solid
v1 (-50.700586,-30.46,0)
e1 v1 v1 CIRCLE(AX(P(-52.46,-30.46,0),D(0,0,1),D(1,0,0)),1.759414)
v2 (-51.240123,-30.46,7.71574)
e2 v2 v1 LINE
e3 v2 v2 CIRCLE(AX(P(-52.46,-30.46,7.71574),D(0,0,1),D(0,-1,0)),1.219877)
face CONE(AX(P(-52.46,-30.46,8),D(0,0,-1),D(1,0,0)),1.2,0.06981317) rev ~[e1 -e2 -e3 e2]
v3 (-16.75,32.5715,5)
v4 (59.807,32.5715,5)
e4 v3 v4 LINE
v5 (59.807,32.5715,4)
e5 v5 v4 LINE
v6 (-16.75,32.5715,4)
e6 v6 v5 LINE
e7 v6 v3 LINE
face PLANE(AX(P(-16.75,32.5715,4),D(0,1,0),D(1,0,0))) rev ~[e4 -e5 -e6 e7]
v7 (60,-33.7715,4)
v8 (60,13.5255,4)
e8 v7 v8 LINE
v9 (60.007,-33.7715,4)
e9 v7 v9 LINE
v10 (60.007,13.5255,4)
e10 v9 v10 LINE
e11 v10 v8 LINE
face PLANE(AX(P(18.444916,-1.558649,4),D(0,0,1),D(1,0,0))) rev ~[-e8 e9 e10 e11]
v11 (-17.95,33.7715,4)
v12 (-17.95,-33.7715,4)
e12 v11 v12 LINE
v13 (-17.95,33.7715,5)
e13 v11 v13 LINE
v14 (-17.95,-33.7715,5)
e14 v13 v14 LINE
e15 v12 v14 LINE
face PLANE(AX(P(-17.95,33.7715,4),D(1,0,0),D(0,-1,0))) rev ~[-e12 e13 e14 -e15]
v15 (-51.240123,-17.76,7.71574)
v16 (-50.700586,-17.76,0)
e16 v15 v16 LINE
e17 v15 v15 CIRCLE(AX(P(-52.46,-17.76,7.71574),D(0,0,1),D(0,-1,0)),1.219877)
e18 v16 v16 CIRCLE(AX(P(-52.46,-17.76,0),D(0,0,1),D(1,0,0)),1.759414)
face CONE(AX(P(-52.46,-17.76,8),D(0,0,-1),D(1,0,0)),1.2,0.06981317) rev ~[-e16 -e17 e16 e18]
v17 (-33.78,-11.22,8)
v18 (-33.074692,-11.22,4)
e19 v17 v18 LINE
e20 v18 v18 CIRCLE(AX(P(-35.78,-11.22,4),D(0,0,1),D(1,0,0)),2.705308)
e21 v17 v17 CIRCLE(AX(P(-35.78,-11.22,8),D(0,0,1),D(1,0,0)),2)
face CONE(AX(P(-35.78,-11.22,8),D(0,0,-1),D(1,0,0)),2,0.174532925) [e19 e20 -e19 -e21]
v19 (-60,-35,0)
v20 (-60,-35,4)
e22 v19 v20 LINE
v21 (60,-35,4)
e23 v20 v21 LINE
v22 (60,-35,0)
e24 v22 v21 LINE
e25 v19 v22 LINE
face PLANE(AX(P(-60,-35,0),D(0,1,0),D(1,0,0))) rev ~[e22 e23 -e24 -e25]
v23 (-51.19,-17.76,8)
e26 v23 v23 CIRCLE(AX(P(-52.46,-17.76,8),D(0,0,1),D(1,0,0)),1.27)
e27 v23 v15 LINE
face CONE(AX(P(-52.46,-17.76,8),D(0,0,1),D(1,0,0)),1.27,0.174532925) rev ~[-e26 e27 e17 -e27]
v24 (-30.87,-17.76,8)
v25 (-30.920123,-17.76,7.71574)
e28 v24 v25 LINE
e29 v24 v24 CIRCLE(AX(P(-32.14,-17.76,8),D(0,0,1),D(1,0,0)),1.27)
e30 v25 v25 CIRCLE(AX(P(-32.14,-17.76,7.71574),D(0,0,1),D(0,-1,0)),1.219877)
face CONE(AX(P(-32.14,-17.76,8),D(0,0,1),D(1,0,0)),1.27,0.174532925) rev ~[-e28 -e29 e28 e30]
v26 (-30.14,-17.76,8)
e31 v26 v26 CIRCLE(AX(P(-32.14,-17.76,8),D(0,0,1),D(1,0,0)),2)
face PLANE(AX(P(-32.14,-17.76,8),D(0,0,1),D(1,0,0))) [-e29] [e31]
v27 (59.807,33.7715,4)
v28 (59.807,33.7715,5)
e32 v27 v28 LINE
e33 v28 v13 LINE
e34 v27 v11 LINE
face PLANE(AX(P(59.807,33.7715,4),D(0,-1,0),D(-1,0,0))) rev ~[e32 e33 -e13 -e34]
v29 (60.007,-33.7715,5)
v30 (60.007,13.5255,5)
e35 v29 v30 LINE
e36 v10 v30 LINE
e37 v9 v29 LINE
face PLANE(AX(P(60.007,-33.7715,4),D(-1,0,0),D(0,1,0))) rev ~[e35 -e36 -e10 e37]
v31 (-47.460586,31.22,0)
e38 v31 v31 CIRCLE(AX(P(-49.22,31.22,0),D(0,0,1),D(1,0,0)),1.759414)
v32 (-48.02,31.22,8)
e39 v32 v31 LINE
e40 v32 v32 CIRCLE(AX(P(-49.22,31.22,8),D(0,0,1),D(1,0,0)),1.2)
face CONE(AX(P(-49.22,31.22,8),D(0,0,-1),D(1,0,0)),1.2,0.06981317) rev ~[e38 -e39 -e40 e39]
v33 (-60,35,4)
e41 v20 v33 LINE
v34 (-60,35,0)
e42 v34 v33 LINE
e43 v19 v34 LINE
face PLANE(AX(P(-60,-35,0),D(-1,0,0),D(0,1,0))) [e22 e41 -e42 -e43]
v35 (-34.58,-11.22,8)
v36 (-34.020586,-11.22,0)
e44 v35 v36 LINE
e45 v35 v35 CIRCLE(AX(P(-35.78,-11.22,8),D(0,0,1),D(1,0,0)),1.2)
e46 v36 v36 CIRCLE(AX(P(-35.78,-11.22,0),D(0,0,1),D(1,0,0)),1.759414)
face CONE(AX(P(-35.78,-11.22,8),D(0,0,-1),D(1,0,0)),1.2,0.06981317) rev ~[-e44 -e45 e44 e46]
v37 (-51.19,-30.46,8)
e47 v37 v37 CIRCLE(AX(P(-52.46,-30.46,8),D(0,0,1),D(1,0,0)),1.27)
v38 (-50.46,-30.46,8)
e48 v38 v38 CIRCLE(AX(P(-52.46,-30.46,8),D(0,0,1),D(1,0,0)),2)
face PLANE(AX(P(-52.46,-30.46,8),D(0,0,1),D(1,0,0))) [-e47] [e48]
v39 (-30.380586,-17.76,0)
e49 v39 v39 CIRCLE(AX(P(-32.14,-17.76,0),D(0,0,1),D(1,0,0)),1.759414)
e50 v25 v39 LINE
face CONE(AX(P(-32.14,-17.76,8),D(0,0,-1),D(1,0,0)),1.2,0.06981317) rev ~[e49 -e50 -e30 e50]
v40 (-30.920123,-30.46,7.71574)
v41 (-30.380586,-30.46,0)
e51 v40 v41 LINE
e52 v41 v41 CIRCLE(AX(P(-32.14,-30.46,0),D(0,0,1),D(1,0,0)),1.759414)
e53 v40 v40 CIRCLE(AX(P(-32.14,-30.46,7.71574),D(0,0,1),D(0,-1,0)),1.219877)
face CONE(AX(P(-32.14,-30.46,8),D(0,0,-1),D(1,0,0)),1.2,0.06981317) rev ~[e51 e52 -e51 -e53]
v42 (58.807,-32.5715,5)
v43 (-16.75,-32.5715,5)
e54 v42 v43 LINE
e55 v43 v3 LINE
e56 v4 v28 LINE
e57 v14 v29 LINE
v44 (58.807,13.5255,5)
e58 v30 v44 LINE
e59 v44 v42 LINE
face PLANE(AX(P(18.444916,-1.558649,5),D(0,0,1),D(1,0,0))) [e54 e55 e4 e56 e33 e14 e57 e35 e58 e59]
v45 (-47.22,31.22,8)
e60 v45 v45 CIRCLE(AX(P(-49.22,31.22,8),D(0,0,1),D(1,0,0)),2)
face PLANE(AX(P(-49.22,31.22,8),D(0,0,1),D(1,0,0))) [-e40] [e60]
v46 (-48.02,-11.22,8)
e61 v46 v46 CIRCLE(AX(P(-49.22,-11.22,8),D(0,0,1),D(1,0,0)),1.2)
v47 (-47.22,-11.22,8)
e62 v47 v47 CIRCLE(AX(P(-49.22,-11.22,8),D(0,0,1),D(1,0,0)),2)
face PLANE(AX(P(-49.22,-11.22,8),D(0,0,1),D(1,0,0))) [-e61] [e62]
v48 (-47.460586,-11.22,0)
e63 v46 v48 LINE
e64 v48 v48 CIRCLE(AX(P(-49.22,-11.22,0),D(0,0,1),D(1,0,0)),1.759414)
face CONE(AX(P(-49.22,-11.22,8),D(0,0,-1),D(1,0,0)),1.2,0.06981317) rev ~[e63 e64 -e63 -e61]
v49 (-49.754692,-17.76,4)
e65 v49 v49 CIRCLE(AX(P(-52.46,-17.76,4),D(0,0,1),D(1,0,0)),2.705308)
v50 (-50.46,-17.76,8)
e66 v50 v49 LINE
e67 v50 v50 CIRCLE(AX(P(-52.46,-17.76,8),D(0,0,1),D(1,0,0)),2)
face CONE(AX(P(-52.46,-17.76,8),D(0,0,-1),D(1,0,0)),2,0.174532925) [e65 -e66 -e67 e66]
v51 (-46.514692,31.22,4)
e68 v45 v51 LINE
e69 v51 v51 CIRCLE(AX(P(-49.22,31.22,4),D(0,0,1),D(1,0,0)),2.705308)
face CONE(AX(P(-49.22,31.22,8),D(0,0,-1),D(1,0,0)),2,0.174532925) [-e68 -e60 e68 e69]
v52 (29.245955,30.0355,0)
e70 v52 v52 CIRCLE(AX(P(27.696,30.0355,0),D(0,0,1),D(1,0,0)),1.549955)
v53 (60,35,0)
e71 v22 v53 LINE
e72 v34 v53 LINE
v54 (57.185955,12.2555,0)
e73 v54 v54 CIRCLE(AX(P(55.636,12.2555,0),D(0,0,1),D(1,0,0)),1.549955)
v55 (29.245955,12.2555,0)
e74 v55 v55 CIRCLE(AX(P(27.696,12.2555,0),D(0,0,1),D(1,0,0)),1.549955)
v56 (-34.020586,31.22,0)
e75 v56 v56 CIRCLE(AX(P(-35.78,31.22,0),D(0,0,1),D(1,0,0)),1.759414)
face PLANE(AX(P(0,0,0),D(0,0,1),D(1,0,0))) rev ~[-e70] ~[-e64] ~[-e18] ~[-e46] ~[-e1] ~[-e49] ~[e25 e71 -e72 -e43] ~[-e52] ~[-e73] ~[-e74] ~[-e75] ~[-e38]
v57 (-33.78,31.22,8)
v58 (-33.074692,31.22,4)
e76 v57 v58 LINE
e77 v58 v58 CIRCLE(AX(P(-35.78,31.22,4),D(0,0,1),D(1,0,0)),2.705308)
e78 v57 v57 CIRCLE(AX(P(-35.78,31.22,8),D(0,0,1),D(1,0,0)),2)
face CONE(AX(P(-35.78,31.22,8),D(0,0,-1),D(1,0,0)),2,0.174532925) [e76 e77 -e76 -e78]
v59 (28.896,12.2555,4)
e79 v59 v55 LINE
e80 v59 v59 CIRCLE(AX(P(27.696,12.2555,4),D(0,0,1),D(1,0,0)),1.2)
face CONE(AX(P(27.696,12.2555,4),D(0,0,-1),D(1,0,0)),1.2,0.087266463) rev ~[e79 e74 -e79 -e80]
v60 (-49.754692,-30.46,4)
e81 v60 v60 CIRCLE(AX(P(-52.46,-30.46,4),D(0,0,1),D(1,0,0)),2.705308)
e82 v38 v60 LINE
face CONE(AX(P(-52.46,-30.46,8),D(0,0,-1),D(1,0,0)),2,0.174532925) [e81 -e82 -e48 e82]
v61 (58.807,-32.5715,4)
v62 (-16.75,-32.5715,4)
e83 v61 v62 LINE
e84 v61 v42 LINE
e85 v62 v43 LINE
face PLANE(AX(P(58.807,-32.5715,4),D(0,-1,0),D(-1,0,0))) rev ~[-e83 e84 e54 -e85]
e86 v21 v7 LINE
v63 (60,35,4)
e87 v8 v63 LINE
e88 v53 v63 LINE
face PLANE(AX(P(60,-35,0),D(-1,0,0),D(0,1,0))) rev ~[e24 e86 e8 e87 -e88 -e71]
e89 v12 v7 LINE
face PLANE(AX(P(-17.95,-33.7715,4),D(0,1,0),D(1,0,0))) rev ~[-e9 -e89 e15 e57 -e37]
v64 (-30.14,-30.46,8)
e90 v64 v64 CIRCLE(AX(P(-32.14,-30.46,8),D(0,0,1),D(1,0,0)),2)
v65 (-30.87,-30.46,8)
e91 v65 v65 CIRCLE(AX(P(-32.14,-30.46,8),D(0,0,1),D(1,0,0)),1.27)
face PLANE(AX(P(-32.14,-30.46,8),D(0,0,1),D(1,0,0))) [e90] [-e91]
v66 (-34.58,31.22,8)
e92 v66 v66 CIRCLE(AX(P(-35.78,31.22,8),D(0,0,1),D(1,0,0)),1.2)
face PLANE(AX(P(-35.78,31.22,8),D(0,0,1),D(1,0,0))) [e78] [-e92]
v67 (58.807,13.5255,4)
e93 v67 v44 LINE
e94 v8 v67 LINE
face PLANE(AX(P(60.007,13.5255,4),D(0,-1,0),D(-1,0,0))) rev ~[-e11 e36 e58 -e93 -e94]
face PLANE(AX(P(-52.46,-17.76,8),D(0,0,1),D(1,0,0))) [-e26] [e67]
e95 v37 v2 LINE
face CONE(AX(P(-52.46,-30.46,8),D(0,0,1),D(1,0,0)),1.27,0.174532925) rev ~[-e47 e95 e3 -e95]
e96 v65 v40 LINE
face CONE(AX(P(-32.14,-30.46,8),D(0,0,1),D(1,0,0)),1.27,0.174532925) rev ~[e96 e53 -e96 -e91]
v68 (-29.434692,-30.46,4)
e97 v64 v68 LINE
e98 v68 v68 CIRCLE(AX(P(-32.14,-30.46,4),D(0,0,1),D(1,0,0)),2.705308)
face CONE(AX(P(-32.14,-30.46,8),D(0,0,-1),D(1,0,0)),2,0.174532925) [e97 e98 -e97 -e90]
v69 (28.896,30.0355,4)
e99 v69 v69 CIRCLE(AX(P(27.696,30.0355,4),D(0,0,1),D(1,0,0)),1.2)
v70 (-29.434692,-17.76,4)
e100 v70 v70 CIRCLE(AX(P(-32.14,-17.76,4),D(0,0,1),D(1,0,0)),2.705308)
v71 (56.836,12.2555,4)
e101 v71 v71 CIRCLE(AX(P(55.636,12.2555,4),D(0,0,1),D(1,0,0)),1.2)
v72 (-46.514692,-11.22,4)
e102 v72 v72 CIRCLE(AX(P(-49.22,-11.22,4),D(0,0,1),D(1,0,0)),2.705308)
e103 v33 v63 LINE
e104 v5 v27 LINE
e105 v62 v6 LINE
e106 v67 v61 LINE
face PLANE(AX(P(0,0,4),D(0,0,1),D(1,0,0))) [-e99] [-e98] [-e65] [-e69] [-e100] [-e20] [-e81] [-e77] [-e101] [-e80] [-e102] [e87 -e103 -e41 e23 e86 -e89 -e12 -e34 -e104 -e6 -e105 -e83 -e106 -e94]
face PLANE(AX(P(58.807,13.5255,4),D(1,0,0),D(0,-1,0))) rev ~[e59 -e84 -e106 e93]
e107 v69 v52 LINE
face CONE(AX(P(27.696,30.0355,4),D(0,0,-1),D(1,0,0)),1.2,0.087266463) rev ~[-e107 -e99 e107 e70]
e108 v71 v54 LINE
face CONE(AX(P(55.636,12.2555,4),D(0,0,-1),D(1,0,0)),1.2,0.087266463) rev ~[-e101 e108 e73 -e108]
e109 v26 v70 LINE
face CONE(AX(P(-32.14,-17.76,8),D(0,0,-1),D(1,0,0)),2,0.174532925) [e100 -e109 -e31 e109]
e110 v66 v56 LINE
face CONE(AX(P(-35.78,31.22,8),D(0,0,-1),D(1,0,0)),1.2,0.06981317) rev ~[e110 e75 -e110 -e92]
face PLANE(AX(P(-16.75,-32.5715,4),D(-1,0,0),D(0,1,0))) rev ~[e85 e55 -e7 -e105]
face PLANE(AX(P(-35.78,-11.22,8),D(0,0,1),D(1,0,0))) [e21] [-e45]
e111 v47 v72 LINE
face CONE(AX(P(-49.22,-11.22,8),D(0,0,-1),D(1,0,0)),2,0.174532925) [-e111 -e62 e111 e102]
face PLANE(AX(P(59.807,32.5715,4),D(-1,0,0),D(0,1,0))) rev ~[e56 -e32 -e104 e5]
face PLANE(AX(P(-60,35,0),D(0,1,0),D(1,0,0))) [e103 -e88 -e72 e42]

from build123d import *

# Parameters (mm, degrees)
SKETCH1_W                     = 120
SKETCH1_H                     = 70
BOSS_EXTRUDE1_DEPTH           = 4
BOSS_EXTRUDE3_DEPTH           = 1
BOSS_EXTRUDE4_START           = 4
SKETCH4_R                     = 2
SKETCH4_R_2                   = 1.27
BOSS_EXTRUDE4_DEPTH           = 5
BOSS_EXTRUDE4_DRAFT           = 10
BOSS_EXTRUDE4_PROFILE_2_DEPTH = 5
BOSS_EXTRUDE4_PROFILE_2_DRAFT = 10
BOSS_EXTRUDE4_PROFILE_3_DEPTH = 5
BOSS_EXTRUDE4_PROFILE_3_DRAFT = 10
BOSS_EXTRUDE4_PROFILE_4_DEPTH = 5
BOSS_EXTRUDE4_PROFILE_4_DRAFT = 10
SKETCH4_R_3                   = 1.1
BOSS_EXTRUDE4_PROFILE_5_DEPTH = 5
BOSS_EXTRUDE4_PROFILE_5_DRAFT = 10
BOSS_EXTRUDE4_PROFILE_6_DEPTH = 5
BOSS_EXTRUDE4_PROFILE_6_DRAFT = 10
BOSS_EXTRUDE4_PROFILE_7_DEPTH = 5
BOSS_EXTRUDE4_PROFILE_7_DRAFT = 10
BOSS_EXTRUDE4_PROFILE_8_DEPTH = 5
BOSS_EXTRUDE4_PROFILE_8_DRAFT = 10
SKETCH5_R                     = 1.2
CUT_EXTRUDE1_DEPTH            = 70.927391264
CUT_EXTRUDE1_DRAFT            = 4
CUT_EXTRUDE1_PROFILE_2_DEPTH  = 70.927391264
CUT_EXTRUDE1_PROFILE_2_DRAFT  = 4
CUT_EXTRUDE1_PROFILE_3_DEPTH  = 70.927391264
CUT_EXTRUDE1_PROFILE_3_DRAFT  = 4
CUT_EXTRUDE1_PROFILE_4_DEPTH  = 70.927391264
CUT_EXTRUDE1_PROFILE_4_DRAFT  = 4
CUT_EXTRUDE1_PROFILE_5_DEPTH  = 70.927391264
CUT_EXTRUDE1_PROFILE_5_DRAFT  = 4
CUT_EXTRUDE1_PROFILE_6_DEPTH  = 70.927391264
CUT_EXTRUDE1_PROFILE_6_DRAFT  = 4
CUT_EXTRUDE1_PROFILE_7_DEPTH  = 70.927391264
CUT_EXTRUDE1_PROFILE_7_DRAFT  = 4
CUT_EXTRUDE1_PROFILE_8_DEPTH  = 70.927391264
CUT_EXTRUDE1_PROFILE_8_DRAFT  = 4
SKETCH6_R                     = 1.2
CUT_EXTRUDE2_DEPTH            = 70.583331689
CUT_EXTRUDE2_DRAFT            = 5
CUT_EXTRUDE2_PROFILE_2_DEPTH  = 70.583331689
CUT_EXTRUDE2_PROFILE_2_DRAFT  = 5
CUT_EXTRUDE2_PROFILE_3_DEPTH  = 70.583331689
CUT_EXTRUDE2_PROFILE_3_DRAFT  = 5


with BuildPart() as part:
    # Sketch1 → Boss-Extrude1 (new body)
    with BuildSketch(Plane.XY):
        Rectangle(SKETCH1_W, SKETCH1_H)
    extrude(amount=BOSS_EXTRUDE1_DEPTH)

    # Sketch3 → Boss-Extrude3 (add)
    with BuildSketch(Plane.XY.offset(4)):
        Polygon((59.807, 33.7715), (-17.95, 33.7715), (-17.95, -33.7715), (60.007, -33.7715), (60.007, 13.5255), (58.807, 13.5255), (58.807, -32.5715), (-16.75, -32.5715), (-16.75, 32.5715), (59.807, 32.5715), align=None)
    extrude(amount=BOSS_EXTRUDE3_DEPTH)


with BuildPart() as boss_extrude4_tool:
    # Sketch4 → Boss-Extrude4 (with draft: the straight prism first)
    with BuildSketch(Plane.XY.offset(4).offset(BOSS_EXTRUDE4_START)):
        with Locations((-52.46, -17.76)):
            Circle(SKETCH4_R)
        with Locations((-52.46, -17.76)):
            Circle(SKETCH4_R_2, mode=Mode.SUBTRACT)
    extrude(amount=-BOSS_EXTRUDE4_DEPTH)
    # Boss-Extrude4: the draft: its side faces are tilted about the plane it starts from
    boss_extrude4_sides = [boss_extrude4_tool.faces().sort_by_distance(p)[0] for p in [
        (-54.46, -17.76, 5.5),
        (-53.73, -17.76, 5.5),
    ]]
    draft(boss_extrude4_sides, Plane.XY.offset(4).offset(BOSS_EXTRUDE4_START), BOSS_EXTRUDE4_DRAFT)


with BuildPart() as part_1:
    add(part.part)

    # Boss-Extrude4: add boss_extrude4_tool
    add(boss_extrude4_tool.part)


with BuildPart() as boss_extrude4_profile_2_tool:
    # Sketch4 → Boss-Extrude4 profile 2 (with draft: the straight prism first)
    with BuildSketch(Plane.XY.offset(4).offset(BOSS_EXTRUDE4_START)):
        with Locations((-32.14, -17.76)):
            Circle(SKETCH4_R)
        with Locations((-32.14, -17.76)):
            Circle(SKETCH4_R_2, mode=Mode.SUBTRACT)
    extrude(amount=-BOSS_EXTRUDE4_PROFILE_2_DEPTH)
    # Boss-Extrude4 profile 2: the draft: its side faces are tilted about the plane it starts from
    boss_extrude4_profile_2_sides = [boss_extrude4_profile_2_tool.faces().sort_by_distance(p)[0] for p in [
        (-34.14, -17.76, 5.5),
        (-33.41, -17.76, 5.5),
    ]]
    draft(boss_extrude4_profile_2_sides, Plane.XY.offset(4).offset(BOSS_EXTRUDE4_START), BOSS_EXTRUDE4_PROFILE_2_DRAFT)


with BuildPart() as part_2:
    add(part_1.part)

    # Boss-Extrude4 profile 2: add boss_extrude4_profile_2_tool
    add(boss_extrude4_profile_2_tool.part)


with BuildPart() as boss_extrude4_profile_3_tool:
    # Sketch4 → Boss-Extrude4 profile 3 (with draft: the straight prism first)
    with BuildSketch(Plane.XY.offset(4).offset(BOSS_EXTRUDE4_START)):
        with Locations((-52.46, -30.46)):
            Circle(SKETCH4_R)
        with Locations((-52.46, -30.46)):
            Circle(SKETCH4_R_2, mode=Mode.SUBTRACT)
    extrude(amount=-BOSS_EXTRUDE4_PROFILE_3_DEPTH)
    # Boss-Extrude4 profile 3: the draft: its side faces are tilted about the plane it starts from
    boss_extrude4_profile_3_sides = [boss_extrude4_profile_3_tool.faces().sort_by_distance(p)[0] for p in [
        (-54.46, -30.46, 5.5),
        (-53.73, -30.46, 5.5),
    ]]
    draft(boss_extrude4_profile_3_sides, Plane.XY.offset(4).offset(BOSS_EXTRUDE4_START), BOSS_EXTRUDE4_PROFILE_3_DRAFT)


with BuildPart() as part_3:
    add(part_2.part)

    # Boss-Extrude4 profile 3: add boss_extrude4_profile_3_tool
    add(boss_extrude4_profile_3_tool.part)


with BuildPart() as boss_extrude4_profile_4_tool:
    # Sketch4 → Boss-Extrude4 profile 4 (with draft: the straight prism first)
    with BuildSketch(Plane.XY.offset(4).offset(BOSS_EXTRUDE4_START)):
        with Locations((-32.14, -30.46)):
            Circle(SKETCH4_R)
        with Locations((-32.14, -30.46)):
            Circle(SKETCH4_R_2, mode=Mode.SUBTRACT)
    extrude(amount=-BOSS_EXTRUDE4_PROFILE_4_DEPTH)
    # Boss-Extrude4 profile 4: the draft: its side faces are tilted about the plane it starts from
    boss_extrude4_profile_4_sides = [boss_extrude4_profile_4_tool.faces().sort_by_distance(p)[0] for p in [
        (-34.14, -30.46, 5.5),
        (-33.41, -30.46, 5.5),
    ]]
    draft(boss_extrude4_profile_4_sides, Plane.XY.offset(4).offset(BOSS_EXTRUDE4_START), BOSS_EXTRUDE4_PROFILE_4_DRAFT)


with BuildPart() as part_4:
    add(part_3.part)

    # Boss-Extrude4 profile 4: add boss_extrude4_profile_4_tool
    add(boss_extrude4_profile_4_tool.part)


with BuildPart() as boss_extrude4_profile_5_tool:
    # Sketch4 → Boss-Extrude4 profile 5 (with draft: the straight prism first)
    with BuildSketch(Plane.XY.offset(4).offset(BOSS_EXTRUDE4_START)):
        with Locations((-49.22, 31.22)):
            Circle(SKETCH4_R)
        with Locations((-49.22, 31.22)):
            Circle(SKETCH4_R_3, mode=Mode.SUBTRACT)
    extrude(amount=-BOSS_EXTRUDE4_PROFILE_5_DEPTH)
    # Boss-Extrude4 profile 5: the draft: its side faces are tilted about the plane it starts from
    boss_extrude4_profile_5_sides = [boss_extrude4_profile_5_tool.faces().sort_by_distance(p)[0] for p in [
        (-51.22, 31.22, 5.5),
        (-50.32, 31.22, 5.5),
    ]]
    draft(boss_extrude4_profile_5_sides, Plane.XY.offset(4).offset(BOSS_EXTRUDE4_START), BOSS_EXTRUDE4_PROFILE_5_DRAFT)


with BuildPart() as part_5:
    add(part_4.part)

    # Boss-Extrude4 profile 5: add boss_extrude4_profile_5_tool
    add(boss_extrude4_profile_5_tool.part)


with BuildPart() as boss_extrude4_profile_6_tool:
    # Sketch4 → Boss-Extrude4 profile 6 (with draft: the straight prism first)
    with BuildSketch(Plane.XY.offset(4).offset(BOSS_EXTRUDE4_START)):
        with Locations((-35.78, 31.22)):
            Circle(SKETCH4_R)
        with Locations((-35.78, 31.22)):
            Circle(SKETCH4_R_3, mode=Mode.SUBTRACT)
    extrude(amount=-BOSS_EXTRUDE4_PROFILE_6_DEPTH)
    # Boss-Extrude4 profile 6: the draft: its side faces are tilted about the plane it starts from
    boss_extrude4_profile_6_sides = [boss_extrude4_profile_6_tool.faces().sort_by_distance(p)[0] for p in [
        (-37.78, 31.22, 5.5),
        (-36.88, 31.22, 5.5),
    ]]
    draft(boss_extrude4_profile_6_sides, Plane.XY.offset(4).offset(BOSS_EXTRUDE4_START), BOSS_EXTRUDE4_PROFILE_6_DRAFT)


with BuildPart() as part_6:
    add(part_5.part)

    # Boss-Extrude4 profile 6: add boss_extrude4_profile_6_tool
    add(boss_extrude4_profile_6_tool.part)


with BuildPart() as boss_extrude4_profile_7_tool:
    # Sketch4 → Boss-Extrude4 profile 7 (with draft: the straight prism first)
    with BuildSketch(Plane.XY.offset(4).offset(BOSS_EXTRUDE4_START)):
        with Locations((-49.22, -11.22)):
            Circle(SKETCH4_R)
        with Locations((-49.22, -11.22)):
            Circle(SKETCH4_R_3, mode=Mode.SUBTRACT)
    extrude(amount=-BOSS_EXTRUDE4_PROFILE_7_DEPTH)
    # Boss-Extrude4 profile 7: the draft: its side faces are tilted about the plane it starts from
    boss_extrude4_profile_7_sides = [boss_extrude4_profile_7_tool.faces().sort_by_distance(p)[0] for p in [
        (-51.22, -11.22, 5.5),
        (-50.32, -11.22, 5.5),
    ]]
    draft(boss_extrude4_profile_7_sides, Plane.XY.offset(4).offset(BOSS_EXTRUDE4_START), BOSS_EXTRUDE4_PROFILE_7_DRAFT)


with BuildPart() as part_7:
    add(part_6.part)

    # Boss-Extrude4 profile 7: add boss_extrude4_profile_7_tool
    add(boss_extrude4_profile_7_tool.part)


with BuildPart() as boss_extrude4_profile_8_tool:
    # Sketch4 → Boss-Extrude4 profile 8 (with draft: the straight prism first)
    with BuildSketch(Plane.XY.offset(4).offset(BOSS_EXTRUDE4_START)):
        with Locations((-35.78, -11.22)):
            Circle(SKETCH4_R)
        with Locations((-35.78, -11.22)):
            Circle(SKETCH4_R_3, mode=Mode.SUBTRACT)
    extrude(amount=-BOSS_EXTRUDE4_PROFILE_8_DEPTH)
    # Boss-Extrude4 profile 8: the draft: its side faces are tilted about the plane it starts from
    boss_extrude4_profile_8_sides = [boss_extrude4_profile_8_tool.faces().sort_by_distance(p)[0] for p in [
        (-37.78, -11.22, 5.5),
        (-36.88, -11.22, 5.5),
    ]]
    draft(boss_extrude4_profile_8_sides, Plane.XY.offset(4).offset(BOSS_EXTRUDE4_START), BOSS_EXTRUDE4_PROFILE_8_DRAFT)


with BuildPart() as part_8:
    add(part_7.part)

    # Boss-Extrude4 profile 8: add boss_extrude4_profile_8_tool
    add(boss_extrude4_profile_8_tool.part)


with BuildPart() as cut_extrude1_tool:
    # Sketch5 → Cut-Extrude1 (with draft: the straight prism first)
    with BuildSketch(Plane.XY.offset(8)):
        with Locations((-52.46, -17.76)):
            Circle(SKETCH5_R)
    extrude(amount=-CUT_EXTRUDE1_DEPTH)
    # Cut-Extrude1: the draft: its side faces are tilted about the plane it starts from
    cut_extrude1_sides = [cut_extrude1_tool.faces().sort_by_distance(p)[0] for p in [
        (-53.66, -17.76, -27.463695632),
    ]]
    draft(cut_extrude1_sides, Plane.XY.offset(8), CUT_EXTRUDE1_DRAFT)


with BuildPart() as part_9:
    add(part_8.part)

    # Cut-Extrude1: cut by cut_extrude1_tool
    add(cut_extrude1_tool.part, mode=Mode.SUBTRACT)


with BuildPart() as cut_extrude1_profile_2_tool:
    # Sketch5 → Cut-Extrude1 profile 2 (with draft: the straight prism first)
    with BuildSketch(Plane.XY.offset(8)):
        with Locations((-32.14, -17.76)):
            Circle(SKETCH5_R)
    extrude(amount=-CUT_EXTRUDE1_PROFILE_2_DEPTH)
    # Cut-Extrude1 profile 2: the draft: its side faces are tilted about the plane it starts from
    cut_extrude1_profile_2_sides = [cut_extrude1_profile_2_tool.faces().sort_by_distance(p)[0] for p in [
        (-33.34, -17.76, -27.463695632),
    ]]
    draft(cut_extrude1_profile_2_sides, Plane.XY.offset(8), CUT_EXTRUDE1_PROFILE_2_DRAFT)


with BuildPart() as part_10:
    add(part_9.part)

    # Cut-Extrude1 profile 2: cut by cut_extrude1_profile_2_tool
    add(cut_extrude1_profile_2_tool.part, mode=Mode.SUBTRACT)


with BuildPart() as cut_extrude1_profile_3_tool:
    # Sketch5 → Cut-Extrude1 profile 3 (with draft: the straight prism first)
    with BuildSketch(Plane.XY.offset(8)):
        with Locations((-52.46, -30.46)):
            Circle(SKETCH5_R)
    extrude(amount=-CUT_EXTRUDE1_PROFILE_3_DEPTH)
    # Cut-Extrude1 profile 3: the draft: its side faces are tilted about the plane it starts from
    cut_extrude1_profile_3_sides = [cut_extrude1_profile_3_tool.faces().sort_by_distance(p)[0] for p in [
        (-53.66, -30.46, -27.463695632),
    ]]
    draft(cut_extrude1_profile_3_sides, Plane.XY.offset(8), CUT_EXTRUDE1_PROFILE_3_DRAFT)


with BuildPart() as part_11:
    add(part_10.part)

    # Cut-Extrude1 profile 3: cut by cut_extrude1_profile_3_tool
    add(cut_extrude1_profile_3_tool.part, mode=Mode.SUBTRACT)


with BuildPart() as cut_extrude1_profile_4_tool:
    # Sketch5 → Cut-Extrude1 profile 4 (with draft: the straight prism first)
    with BuildSketch(Plane.XY.offset(8)):
        with Locations((-32.14, -30.46)):
            Circle(SKETCH5_R)
    extrude(amount=-CUT_EXTRUDE1_PROFILE_4_DEPTH)
    # Cut-Extrude1 profile 4: the draft: its side faces are tilted about the plane it starts from
    cut_extrude1_profile_4_sides = [cut_extrude1_profile_4_tool.faces().sort_by_distance(p)[0] for p in [
        (-33.34, -30.46, -27.463695632),
    ]]
    draft(cut_extrude1_profile_4_sides, Plane.XY.offset(8), CUT_EXTRUDE1_PROFILE_4_DRAFT)


with BuildPart() as part_12:
    add(part_11.part)

    # Cut-Extrude1 profile 4: cut by cut_extrude1_profile_4_tool
    add(cut_extrude1_profile_4_tool.part, mode=Mode.SUBTRACT)


with BuildPart() as cut_extrude1_profile_5_tool:
    # Sketch5 → Cut-Extrude1 profile 5 (with draft: the straight prism first)
    with BuildSketch(Plane.XY.offset(8)):
        with Locations((-49.22, 31.22)):
            Circle(SKETCH5_R)
    extrude(amount=-CUT_EXTRUDE1_PROFILE_5_DEPTH)
    # Cut-Extrude1 profile 5: the draft: its side faces are tilted about the plane it starts from
    cut_extrude1_profile_5_sides = [cut_extrude1_profile_5_tool.faces().sort_by_distance(p)[0] for p in [
        (-50.42, 31.22, -27.463695632),
    ]]
    draft(cut_extrude1_profile_5_sides, Plane.XY.offset(8), CUT_EXTRUDE1_PROFILE_5_DRAFT)


with BuildPart() as part_13:
    add(part_12.part)

    # Cut-Extrude1 profile 5: cut by cut_extrude1_profile_5_tool
    add(cut_extrude1_profile_5_tool.part, mode=Mode.SUBTRACT)


with BuildPart() as cut_extrude1_profile_6_tool:
    # Sketch5 → Cut-Extrude1 profile 6 (with draft: the straight prism first)
    with BuildSketch(Plane.XY.offset(8)):
        with Locations((-35.78, 31.22)):
            Circle(SKETCH5_R)
    extrude(amount=-CUT_EXTRUDE1_PROFILE_6_DEPTH)
    # Cut-Extrude1 profile 6: the draft: its side faces are tilted about the plane it starts from
    cut_extrude1_profile_6_sides = [cut_extrude1_profile_6_tool.faces().sort_by_distance(p)[0] for p in [
        (-36.98, 31.22, -27.463695632),
    ]]
    draft(cut_extrude1_profile_6_sides, Plane.XY.offset(8), CUT_EXTRUDE1_PROFILE_6_DRAFT)


with BuildPart() as part_14:
    add(part_13.part)

    # Cut-Extrude1 profile 6: cut by cut_extrude1_profile_6_tool
    add(cut_extrude1_profile_6_tool.part, mode=Mode.SUBTRACT)


with BuildPart() as cut_extrude1_profile_7_tool:
    # Sketch5 → Cut-Extrude1 profile 7 (with draft: the straight prism first)
    with BuildSketch(Plane.XY.offset(8)):
        with Locations((-49.22, -11.22)):
            Circle(SKETCH5_R)
    extrude(amount=-CUT_EXTRUDE1_PROFILE_7_DEPTH)
    # Cut-Extrude1 profile 7: the draft: its side faces are tilted about the plane it starts from
    cut_extrude1_profile_7_sides = [cut_extrude1_profile_7_tool.faces().sort_by_distance(p)[0] for p in [
        (-50.42, -11.22, -27.463695632),
    ]]
    draft(cut_extrude1_profile_7_sides, Plane.XY.offset(8), CUT_EXTRUDE1_PROFILE_7_DRAFT)


with BuildPart() as part_15:
    add(part_14.part)

    # Cut-Extrude1 profile 7: cut by cut_extrude1_profile_7_tool
    add(cut_extrude1_profile_7_tool.part, mode=Mode.SUBTRACT)


with BuildPart() as cut_extrude1_profile_8_tool:
    # Sketch5 → Cut-Extrude1 profile 8 (with draft: the straight prism first)
    with BuildSketch(Plane.XY.offset(8)):
        with Locations((-35.78, -11.22)):
            Circle(SKETCH5_R)
    extrude(amount=-CUT_EXTRUDE1_PROFILE_8_DEPTH)
    # Cut-Extrude1 profile 8: the draft: its side faces are tilted about the plane it starts from
    cut_extrude1_profile_8_sides = [cut_extrude1_profile_8_tool.faces().sort_by_distance(p)[0] for p in [
        (-36.98, -11.22, -27.463695632),
    ]]
    draft(cut_extrude1_profile_8_sides, Plane.XY.offset(8), CUT_EXTRUDE1_PROFILE_8_DRAFT)


with BuildPart() as part_16:
    add(part_15.part)

    # Cut-Extrude1 profile 8: cut by cut_extrude1_profile_8_tool
    add(cut_extrude1_profile_8_tool.part, mode=Mode.SUBTRACT)


with BuildPart() as cut_extrude2_tool:
    # Sketch6 → Cut-Extrude2 (with draft: the straight prism first)
    with BuildSketch(Plane.XY.offset(4)):
        with Locations((27.696, 30.0355)):
            Circle(SKETCH6_R)
    extrude(amount=-CUT_EXTRUDE2_DEPTH)
    # Cut-Extrude2: the draft: its side faces are tilted about the plane it starts from
    cut_extrude2_sides = [cut_extrude2_tool.faces().sort_by_distance(p)[0] for p in [
        (26.496, 30.0355, -31.291665845),
    ]]
    draft(cut_extrude2_sides, Plane.XY.offset(4), CUT_EXTRUDE2_DRAFT)


with BuildPart() as part_17:
    add(part_16.part)

    # Cut-Extrude2: cut by cut_extrude2_tool
    add(cut_extrude2_tool.part, mode=Mode.SUBTRACT)


with BuildPart() as cut_extrude2_profile_2_tool:
    # Sketch6 → Cut-Extrude2 profile 2 (with draft: the straight prism first)
    with BuildSketch(Plane.XY.offset(4)):
        with Locations((27.696, 12.2555)):
            Circle(SKETCH6_R)
    extrude(amount=-CUT_EXTRUDE2_PROFILE_2_DEPTH)
    # Cut-Extrude2 profile 2: the draft: its side faces are tilted about the plane it starts from
    cut_extrude2_profile_2_sides = [cut_extrude2_profile_2_tool.faces().sort_by_distance(p)[0] for p in [
        (26.496, 12.2555, -31.291665845),
    ]]
    draft(cut_extrude2_profile_2_sides, Plane.XY.offset(4), CUT_EXTRUDE2_PROFILE_2_DRAFT)


with BuildPart() as part_18:
    add(part_17.part)

    # Cut-Extrude2 profile 2: cut by cut_extrude2_profile_2_tool
    add(cut_extrude2_profile_2_tool.part, mode=Mode.SUBTRACT)


with BuildPart() as cut_extrude2_profile_3_tool:
    # Sketch6 → Cut-Extrude2 profile 3 (with draft: the straight prism first)
    with BuildSketch(Plane.XY.offset(4)):
        with Locations((55.636, 12.2555)):
            Circle(SKETCH6_R)
    extrude(amount=-CUT_EXTRUDE2_PROFILE_3_DEPTH)
    # Cut-Extrude2 profile 3: the draft: its side faces are tilted about the plane it starts from
    cut_extrude2_profile_3_sides = [cut_extrude2_profile_3_tool.faces().sort_by_distance(p)[0] for p in [
        (54.436, 12.2555, -31.291665845),
    ]]
    draft(cut_extrude2_profile_3_sides, Plane.XY.offset(4), CUT_EXTRUDE2_PROFILE_3_DRAFT)


with BuildPart() as part_19:
    add(part_18.part)

    # Cut-Extrude2 profile 3: cut by cut_extrude2_profile_3_tool
    add(cut_extrude2_profile_3_tool.part, mode=Mode.SUBTRACT)


solid = part_19.part
